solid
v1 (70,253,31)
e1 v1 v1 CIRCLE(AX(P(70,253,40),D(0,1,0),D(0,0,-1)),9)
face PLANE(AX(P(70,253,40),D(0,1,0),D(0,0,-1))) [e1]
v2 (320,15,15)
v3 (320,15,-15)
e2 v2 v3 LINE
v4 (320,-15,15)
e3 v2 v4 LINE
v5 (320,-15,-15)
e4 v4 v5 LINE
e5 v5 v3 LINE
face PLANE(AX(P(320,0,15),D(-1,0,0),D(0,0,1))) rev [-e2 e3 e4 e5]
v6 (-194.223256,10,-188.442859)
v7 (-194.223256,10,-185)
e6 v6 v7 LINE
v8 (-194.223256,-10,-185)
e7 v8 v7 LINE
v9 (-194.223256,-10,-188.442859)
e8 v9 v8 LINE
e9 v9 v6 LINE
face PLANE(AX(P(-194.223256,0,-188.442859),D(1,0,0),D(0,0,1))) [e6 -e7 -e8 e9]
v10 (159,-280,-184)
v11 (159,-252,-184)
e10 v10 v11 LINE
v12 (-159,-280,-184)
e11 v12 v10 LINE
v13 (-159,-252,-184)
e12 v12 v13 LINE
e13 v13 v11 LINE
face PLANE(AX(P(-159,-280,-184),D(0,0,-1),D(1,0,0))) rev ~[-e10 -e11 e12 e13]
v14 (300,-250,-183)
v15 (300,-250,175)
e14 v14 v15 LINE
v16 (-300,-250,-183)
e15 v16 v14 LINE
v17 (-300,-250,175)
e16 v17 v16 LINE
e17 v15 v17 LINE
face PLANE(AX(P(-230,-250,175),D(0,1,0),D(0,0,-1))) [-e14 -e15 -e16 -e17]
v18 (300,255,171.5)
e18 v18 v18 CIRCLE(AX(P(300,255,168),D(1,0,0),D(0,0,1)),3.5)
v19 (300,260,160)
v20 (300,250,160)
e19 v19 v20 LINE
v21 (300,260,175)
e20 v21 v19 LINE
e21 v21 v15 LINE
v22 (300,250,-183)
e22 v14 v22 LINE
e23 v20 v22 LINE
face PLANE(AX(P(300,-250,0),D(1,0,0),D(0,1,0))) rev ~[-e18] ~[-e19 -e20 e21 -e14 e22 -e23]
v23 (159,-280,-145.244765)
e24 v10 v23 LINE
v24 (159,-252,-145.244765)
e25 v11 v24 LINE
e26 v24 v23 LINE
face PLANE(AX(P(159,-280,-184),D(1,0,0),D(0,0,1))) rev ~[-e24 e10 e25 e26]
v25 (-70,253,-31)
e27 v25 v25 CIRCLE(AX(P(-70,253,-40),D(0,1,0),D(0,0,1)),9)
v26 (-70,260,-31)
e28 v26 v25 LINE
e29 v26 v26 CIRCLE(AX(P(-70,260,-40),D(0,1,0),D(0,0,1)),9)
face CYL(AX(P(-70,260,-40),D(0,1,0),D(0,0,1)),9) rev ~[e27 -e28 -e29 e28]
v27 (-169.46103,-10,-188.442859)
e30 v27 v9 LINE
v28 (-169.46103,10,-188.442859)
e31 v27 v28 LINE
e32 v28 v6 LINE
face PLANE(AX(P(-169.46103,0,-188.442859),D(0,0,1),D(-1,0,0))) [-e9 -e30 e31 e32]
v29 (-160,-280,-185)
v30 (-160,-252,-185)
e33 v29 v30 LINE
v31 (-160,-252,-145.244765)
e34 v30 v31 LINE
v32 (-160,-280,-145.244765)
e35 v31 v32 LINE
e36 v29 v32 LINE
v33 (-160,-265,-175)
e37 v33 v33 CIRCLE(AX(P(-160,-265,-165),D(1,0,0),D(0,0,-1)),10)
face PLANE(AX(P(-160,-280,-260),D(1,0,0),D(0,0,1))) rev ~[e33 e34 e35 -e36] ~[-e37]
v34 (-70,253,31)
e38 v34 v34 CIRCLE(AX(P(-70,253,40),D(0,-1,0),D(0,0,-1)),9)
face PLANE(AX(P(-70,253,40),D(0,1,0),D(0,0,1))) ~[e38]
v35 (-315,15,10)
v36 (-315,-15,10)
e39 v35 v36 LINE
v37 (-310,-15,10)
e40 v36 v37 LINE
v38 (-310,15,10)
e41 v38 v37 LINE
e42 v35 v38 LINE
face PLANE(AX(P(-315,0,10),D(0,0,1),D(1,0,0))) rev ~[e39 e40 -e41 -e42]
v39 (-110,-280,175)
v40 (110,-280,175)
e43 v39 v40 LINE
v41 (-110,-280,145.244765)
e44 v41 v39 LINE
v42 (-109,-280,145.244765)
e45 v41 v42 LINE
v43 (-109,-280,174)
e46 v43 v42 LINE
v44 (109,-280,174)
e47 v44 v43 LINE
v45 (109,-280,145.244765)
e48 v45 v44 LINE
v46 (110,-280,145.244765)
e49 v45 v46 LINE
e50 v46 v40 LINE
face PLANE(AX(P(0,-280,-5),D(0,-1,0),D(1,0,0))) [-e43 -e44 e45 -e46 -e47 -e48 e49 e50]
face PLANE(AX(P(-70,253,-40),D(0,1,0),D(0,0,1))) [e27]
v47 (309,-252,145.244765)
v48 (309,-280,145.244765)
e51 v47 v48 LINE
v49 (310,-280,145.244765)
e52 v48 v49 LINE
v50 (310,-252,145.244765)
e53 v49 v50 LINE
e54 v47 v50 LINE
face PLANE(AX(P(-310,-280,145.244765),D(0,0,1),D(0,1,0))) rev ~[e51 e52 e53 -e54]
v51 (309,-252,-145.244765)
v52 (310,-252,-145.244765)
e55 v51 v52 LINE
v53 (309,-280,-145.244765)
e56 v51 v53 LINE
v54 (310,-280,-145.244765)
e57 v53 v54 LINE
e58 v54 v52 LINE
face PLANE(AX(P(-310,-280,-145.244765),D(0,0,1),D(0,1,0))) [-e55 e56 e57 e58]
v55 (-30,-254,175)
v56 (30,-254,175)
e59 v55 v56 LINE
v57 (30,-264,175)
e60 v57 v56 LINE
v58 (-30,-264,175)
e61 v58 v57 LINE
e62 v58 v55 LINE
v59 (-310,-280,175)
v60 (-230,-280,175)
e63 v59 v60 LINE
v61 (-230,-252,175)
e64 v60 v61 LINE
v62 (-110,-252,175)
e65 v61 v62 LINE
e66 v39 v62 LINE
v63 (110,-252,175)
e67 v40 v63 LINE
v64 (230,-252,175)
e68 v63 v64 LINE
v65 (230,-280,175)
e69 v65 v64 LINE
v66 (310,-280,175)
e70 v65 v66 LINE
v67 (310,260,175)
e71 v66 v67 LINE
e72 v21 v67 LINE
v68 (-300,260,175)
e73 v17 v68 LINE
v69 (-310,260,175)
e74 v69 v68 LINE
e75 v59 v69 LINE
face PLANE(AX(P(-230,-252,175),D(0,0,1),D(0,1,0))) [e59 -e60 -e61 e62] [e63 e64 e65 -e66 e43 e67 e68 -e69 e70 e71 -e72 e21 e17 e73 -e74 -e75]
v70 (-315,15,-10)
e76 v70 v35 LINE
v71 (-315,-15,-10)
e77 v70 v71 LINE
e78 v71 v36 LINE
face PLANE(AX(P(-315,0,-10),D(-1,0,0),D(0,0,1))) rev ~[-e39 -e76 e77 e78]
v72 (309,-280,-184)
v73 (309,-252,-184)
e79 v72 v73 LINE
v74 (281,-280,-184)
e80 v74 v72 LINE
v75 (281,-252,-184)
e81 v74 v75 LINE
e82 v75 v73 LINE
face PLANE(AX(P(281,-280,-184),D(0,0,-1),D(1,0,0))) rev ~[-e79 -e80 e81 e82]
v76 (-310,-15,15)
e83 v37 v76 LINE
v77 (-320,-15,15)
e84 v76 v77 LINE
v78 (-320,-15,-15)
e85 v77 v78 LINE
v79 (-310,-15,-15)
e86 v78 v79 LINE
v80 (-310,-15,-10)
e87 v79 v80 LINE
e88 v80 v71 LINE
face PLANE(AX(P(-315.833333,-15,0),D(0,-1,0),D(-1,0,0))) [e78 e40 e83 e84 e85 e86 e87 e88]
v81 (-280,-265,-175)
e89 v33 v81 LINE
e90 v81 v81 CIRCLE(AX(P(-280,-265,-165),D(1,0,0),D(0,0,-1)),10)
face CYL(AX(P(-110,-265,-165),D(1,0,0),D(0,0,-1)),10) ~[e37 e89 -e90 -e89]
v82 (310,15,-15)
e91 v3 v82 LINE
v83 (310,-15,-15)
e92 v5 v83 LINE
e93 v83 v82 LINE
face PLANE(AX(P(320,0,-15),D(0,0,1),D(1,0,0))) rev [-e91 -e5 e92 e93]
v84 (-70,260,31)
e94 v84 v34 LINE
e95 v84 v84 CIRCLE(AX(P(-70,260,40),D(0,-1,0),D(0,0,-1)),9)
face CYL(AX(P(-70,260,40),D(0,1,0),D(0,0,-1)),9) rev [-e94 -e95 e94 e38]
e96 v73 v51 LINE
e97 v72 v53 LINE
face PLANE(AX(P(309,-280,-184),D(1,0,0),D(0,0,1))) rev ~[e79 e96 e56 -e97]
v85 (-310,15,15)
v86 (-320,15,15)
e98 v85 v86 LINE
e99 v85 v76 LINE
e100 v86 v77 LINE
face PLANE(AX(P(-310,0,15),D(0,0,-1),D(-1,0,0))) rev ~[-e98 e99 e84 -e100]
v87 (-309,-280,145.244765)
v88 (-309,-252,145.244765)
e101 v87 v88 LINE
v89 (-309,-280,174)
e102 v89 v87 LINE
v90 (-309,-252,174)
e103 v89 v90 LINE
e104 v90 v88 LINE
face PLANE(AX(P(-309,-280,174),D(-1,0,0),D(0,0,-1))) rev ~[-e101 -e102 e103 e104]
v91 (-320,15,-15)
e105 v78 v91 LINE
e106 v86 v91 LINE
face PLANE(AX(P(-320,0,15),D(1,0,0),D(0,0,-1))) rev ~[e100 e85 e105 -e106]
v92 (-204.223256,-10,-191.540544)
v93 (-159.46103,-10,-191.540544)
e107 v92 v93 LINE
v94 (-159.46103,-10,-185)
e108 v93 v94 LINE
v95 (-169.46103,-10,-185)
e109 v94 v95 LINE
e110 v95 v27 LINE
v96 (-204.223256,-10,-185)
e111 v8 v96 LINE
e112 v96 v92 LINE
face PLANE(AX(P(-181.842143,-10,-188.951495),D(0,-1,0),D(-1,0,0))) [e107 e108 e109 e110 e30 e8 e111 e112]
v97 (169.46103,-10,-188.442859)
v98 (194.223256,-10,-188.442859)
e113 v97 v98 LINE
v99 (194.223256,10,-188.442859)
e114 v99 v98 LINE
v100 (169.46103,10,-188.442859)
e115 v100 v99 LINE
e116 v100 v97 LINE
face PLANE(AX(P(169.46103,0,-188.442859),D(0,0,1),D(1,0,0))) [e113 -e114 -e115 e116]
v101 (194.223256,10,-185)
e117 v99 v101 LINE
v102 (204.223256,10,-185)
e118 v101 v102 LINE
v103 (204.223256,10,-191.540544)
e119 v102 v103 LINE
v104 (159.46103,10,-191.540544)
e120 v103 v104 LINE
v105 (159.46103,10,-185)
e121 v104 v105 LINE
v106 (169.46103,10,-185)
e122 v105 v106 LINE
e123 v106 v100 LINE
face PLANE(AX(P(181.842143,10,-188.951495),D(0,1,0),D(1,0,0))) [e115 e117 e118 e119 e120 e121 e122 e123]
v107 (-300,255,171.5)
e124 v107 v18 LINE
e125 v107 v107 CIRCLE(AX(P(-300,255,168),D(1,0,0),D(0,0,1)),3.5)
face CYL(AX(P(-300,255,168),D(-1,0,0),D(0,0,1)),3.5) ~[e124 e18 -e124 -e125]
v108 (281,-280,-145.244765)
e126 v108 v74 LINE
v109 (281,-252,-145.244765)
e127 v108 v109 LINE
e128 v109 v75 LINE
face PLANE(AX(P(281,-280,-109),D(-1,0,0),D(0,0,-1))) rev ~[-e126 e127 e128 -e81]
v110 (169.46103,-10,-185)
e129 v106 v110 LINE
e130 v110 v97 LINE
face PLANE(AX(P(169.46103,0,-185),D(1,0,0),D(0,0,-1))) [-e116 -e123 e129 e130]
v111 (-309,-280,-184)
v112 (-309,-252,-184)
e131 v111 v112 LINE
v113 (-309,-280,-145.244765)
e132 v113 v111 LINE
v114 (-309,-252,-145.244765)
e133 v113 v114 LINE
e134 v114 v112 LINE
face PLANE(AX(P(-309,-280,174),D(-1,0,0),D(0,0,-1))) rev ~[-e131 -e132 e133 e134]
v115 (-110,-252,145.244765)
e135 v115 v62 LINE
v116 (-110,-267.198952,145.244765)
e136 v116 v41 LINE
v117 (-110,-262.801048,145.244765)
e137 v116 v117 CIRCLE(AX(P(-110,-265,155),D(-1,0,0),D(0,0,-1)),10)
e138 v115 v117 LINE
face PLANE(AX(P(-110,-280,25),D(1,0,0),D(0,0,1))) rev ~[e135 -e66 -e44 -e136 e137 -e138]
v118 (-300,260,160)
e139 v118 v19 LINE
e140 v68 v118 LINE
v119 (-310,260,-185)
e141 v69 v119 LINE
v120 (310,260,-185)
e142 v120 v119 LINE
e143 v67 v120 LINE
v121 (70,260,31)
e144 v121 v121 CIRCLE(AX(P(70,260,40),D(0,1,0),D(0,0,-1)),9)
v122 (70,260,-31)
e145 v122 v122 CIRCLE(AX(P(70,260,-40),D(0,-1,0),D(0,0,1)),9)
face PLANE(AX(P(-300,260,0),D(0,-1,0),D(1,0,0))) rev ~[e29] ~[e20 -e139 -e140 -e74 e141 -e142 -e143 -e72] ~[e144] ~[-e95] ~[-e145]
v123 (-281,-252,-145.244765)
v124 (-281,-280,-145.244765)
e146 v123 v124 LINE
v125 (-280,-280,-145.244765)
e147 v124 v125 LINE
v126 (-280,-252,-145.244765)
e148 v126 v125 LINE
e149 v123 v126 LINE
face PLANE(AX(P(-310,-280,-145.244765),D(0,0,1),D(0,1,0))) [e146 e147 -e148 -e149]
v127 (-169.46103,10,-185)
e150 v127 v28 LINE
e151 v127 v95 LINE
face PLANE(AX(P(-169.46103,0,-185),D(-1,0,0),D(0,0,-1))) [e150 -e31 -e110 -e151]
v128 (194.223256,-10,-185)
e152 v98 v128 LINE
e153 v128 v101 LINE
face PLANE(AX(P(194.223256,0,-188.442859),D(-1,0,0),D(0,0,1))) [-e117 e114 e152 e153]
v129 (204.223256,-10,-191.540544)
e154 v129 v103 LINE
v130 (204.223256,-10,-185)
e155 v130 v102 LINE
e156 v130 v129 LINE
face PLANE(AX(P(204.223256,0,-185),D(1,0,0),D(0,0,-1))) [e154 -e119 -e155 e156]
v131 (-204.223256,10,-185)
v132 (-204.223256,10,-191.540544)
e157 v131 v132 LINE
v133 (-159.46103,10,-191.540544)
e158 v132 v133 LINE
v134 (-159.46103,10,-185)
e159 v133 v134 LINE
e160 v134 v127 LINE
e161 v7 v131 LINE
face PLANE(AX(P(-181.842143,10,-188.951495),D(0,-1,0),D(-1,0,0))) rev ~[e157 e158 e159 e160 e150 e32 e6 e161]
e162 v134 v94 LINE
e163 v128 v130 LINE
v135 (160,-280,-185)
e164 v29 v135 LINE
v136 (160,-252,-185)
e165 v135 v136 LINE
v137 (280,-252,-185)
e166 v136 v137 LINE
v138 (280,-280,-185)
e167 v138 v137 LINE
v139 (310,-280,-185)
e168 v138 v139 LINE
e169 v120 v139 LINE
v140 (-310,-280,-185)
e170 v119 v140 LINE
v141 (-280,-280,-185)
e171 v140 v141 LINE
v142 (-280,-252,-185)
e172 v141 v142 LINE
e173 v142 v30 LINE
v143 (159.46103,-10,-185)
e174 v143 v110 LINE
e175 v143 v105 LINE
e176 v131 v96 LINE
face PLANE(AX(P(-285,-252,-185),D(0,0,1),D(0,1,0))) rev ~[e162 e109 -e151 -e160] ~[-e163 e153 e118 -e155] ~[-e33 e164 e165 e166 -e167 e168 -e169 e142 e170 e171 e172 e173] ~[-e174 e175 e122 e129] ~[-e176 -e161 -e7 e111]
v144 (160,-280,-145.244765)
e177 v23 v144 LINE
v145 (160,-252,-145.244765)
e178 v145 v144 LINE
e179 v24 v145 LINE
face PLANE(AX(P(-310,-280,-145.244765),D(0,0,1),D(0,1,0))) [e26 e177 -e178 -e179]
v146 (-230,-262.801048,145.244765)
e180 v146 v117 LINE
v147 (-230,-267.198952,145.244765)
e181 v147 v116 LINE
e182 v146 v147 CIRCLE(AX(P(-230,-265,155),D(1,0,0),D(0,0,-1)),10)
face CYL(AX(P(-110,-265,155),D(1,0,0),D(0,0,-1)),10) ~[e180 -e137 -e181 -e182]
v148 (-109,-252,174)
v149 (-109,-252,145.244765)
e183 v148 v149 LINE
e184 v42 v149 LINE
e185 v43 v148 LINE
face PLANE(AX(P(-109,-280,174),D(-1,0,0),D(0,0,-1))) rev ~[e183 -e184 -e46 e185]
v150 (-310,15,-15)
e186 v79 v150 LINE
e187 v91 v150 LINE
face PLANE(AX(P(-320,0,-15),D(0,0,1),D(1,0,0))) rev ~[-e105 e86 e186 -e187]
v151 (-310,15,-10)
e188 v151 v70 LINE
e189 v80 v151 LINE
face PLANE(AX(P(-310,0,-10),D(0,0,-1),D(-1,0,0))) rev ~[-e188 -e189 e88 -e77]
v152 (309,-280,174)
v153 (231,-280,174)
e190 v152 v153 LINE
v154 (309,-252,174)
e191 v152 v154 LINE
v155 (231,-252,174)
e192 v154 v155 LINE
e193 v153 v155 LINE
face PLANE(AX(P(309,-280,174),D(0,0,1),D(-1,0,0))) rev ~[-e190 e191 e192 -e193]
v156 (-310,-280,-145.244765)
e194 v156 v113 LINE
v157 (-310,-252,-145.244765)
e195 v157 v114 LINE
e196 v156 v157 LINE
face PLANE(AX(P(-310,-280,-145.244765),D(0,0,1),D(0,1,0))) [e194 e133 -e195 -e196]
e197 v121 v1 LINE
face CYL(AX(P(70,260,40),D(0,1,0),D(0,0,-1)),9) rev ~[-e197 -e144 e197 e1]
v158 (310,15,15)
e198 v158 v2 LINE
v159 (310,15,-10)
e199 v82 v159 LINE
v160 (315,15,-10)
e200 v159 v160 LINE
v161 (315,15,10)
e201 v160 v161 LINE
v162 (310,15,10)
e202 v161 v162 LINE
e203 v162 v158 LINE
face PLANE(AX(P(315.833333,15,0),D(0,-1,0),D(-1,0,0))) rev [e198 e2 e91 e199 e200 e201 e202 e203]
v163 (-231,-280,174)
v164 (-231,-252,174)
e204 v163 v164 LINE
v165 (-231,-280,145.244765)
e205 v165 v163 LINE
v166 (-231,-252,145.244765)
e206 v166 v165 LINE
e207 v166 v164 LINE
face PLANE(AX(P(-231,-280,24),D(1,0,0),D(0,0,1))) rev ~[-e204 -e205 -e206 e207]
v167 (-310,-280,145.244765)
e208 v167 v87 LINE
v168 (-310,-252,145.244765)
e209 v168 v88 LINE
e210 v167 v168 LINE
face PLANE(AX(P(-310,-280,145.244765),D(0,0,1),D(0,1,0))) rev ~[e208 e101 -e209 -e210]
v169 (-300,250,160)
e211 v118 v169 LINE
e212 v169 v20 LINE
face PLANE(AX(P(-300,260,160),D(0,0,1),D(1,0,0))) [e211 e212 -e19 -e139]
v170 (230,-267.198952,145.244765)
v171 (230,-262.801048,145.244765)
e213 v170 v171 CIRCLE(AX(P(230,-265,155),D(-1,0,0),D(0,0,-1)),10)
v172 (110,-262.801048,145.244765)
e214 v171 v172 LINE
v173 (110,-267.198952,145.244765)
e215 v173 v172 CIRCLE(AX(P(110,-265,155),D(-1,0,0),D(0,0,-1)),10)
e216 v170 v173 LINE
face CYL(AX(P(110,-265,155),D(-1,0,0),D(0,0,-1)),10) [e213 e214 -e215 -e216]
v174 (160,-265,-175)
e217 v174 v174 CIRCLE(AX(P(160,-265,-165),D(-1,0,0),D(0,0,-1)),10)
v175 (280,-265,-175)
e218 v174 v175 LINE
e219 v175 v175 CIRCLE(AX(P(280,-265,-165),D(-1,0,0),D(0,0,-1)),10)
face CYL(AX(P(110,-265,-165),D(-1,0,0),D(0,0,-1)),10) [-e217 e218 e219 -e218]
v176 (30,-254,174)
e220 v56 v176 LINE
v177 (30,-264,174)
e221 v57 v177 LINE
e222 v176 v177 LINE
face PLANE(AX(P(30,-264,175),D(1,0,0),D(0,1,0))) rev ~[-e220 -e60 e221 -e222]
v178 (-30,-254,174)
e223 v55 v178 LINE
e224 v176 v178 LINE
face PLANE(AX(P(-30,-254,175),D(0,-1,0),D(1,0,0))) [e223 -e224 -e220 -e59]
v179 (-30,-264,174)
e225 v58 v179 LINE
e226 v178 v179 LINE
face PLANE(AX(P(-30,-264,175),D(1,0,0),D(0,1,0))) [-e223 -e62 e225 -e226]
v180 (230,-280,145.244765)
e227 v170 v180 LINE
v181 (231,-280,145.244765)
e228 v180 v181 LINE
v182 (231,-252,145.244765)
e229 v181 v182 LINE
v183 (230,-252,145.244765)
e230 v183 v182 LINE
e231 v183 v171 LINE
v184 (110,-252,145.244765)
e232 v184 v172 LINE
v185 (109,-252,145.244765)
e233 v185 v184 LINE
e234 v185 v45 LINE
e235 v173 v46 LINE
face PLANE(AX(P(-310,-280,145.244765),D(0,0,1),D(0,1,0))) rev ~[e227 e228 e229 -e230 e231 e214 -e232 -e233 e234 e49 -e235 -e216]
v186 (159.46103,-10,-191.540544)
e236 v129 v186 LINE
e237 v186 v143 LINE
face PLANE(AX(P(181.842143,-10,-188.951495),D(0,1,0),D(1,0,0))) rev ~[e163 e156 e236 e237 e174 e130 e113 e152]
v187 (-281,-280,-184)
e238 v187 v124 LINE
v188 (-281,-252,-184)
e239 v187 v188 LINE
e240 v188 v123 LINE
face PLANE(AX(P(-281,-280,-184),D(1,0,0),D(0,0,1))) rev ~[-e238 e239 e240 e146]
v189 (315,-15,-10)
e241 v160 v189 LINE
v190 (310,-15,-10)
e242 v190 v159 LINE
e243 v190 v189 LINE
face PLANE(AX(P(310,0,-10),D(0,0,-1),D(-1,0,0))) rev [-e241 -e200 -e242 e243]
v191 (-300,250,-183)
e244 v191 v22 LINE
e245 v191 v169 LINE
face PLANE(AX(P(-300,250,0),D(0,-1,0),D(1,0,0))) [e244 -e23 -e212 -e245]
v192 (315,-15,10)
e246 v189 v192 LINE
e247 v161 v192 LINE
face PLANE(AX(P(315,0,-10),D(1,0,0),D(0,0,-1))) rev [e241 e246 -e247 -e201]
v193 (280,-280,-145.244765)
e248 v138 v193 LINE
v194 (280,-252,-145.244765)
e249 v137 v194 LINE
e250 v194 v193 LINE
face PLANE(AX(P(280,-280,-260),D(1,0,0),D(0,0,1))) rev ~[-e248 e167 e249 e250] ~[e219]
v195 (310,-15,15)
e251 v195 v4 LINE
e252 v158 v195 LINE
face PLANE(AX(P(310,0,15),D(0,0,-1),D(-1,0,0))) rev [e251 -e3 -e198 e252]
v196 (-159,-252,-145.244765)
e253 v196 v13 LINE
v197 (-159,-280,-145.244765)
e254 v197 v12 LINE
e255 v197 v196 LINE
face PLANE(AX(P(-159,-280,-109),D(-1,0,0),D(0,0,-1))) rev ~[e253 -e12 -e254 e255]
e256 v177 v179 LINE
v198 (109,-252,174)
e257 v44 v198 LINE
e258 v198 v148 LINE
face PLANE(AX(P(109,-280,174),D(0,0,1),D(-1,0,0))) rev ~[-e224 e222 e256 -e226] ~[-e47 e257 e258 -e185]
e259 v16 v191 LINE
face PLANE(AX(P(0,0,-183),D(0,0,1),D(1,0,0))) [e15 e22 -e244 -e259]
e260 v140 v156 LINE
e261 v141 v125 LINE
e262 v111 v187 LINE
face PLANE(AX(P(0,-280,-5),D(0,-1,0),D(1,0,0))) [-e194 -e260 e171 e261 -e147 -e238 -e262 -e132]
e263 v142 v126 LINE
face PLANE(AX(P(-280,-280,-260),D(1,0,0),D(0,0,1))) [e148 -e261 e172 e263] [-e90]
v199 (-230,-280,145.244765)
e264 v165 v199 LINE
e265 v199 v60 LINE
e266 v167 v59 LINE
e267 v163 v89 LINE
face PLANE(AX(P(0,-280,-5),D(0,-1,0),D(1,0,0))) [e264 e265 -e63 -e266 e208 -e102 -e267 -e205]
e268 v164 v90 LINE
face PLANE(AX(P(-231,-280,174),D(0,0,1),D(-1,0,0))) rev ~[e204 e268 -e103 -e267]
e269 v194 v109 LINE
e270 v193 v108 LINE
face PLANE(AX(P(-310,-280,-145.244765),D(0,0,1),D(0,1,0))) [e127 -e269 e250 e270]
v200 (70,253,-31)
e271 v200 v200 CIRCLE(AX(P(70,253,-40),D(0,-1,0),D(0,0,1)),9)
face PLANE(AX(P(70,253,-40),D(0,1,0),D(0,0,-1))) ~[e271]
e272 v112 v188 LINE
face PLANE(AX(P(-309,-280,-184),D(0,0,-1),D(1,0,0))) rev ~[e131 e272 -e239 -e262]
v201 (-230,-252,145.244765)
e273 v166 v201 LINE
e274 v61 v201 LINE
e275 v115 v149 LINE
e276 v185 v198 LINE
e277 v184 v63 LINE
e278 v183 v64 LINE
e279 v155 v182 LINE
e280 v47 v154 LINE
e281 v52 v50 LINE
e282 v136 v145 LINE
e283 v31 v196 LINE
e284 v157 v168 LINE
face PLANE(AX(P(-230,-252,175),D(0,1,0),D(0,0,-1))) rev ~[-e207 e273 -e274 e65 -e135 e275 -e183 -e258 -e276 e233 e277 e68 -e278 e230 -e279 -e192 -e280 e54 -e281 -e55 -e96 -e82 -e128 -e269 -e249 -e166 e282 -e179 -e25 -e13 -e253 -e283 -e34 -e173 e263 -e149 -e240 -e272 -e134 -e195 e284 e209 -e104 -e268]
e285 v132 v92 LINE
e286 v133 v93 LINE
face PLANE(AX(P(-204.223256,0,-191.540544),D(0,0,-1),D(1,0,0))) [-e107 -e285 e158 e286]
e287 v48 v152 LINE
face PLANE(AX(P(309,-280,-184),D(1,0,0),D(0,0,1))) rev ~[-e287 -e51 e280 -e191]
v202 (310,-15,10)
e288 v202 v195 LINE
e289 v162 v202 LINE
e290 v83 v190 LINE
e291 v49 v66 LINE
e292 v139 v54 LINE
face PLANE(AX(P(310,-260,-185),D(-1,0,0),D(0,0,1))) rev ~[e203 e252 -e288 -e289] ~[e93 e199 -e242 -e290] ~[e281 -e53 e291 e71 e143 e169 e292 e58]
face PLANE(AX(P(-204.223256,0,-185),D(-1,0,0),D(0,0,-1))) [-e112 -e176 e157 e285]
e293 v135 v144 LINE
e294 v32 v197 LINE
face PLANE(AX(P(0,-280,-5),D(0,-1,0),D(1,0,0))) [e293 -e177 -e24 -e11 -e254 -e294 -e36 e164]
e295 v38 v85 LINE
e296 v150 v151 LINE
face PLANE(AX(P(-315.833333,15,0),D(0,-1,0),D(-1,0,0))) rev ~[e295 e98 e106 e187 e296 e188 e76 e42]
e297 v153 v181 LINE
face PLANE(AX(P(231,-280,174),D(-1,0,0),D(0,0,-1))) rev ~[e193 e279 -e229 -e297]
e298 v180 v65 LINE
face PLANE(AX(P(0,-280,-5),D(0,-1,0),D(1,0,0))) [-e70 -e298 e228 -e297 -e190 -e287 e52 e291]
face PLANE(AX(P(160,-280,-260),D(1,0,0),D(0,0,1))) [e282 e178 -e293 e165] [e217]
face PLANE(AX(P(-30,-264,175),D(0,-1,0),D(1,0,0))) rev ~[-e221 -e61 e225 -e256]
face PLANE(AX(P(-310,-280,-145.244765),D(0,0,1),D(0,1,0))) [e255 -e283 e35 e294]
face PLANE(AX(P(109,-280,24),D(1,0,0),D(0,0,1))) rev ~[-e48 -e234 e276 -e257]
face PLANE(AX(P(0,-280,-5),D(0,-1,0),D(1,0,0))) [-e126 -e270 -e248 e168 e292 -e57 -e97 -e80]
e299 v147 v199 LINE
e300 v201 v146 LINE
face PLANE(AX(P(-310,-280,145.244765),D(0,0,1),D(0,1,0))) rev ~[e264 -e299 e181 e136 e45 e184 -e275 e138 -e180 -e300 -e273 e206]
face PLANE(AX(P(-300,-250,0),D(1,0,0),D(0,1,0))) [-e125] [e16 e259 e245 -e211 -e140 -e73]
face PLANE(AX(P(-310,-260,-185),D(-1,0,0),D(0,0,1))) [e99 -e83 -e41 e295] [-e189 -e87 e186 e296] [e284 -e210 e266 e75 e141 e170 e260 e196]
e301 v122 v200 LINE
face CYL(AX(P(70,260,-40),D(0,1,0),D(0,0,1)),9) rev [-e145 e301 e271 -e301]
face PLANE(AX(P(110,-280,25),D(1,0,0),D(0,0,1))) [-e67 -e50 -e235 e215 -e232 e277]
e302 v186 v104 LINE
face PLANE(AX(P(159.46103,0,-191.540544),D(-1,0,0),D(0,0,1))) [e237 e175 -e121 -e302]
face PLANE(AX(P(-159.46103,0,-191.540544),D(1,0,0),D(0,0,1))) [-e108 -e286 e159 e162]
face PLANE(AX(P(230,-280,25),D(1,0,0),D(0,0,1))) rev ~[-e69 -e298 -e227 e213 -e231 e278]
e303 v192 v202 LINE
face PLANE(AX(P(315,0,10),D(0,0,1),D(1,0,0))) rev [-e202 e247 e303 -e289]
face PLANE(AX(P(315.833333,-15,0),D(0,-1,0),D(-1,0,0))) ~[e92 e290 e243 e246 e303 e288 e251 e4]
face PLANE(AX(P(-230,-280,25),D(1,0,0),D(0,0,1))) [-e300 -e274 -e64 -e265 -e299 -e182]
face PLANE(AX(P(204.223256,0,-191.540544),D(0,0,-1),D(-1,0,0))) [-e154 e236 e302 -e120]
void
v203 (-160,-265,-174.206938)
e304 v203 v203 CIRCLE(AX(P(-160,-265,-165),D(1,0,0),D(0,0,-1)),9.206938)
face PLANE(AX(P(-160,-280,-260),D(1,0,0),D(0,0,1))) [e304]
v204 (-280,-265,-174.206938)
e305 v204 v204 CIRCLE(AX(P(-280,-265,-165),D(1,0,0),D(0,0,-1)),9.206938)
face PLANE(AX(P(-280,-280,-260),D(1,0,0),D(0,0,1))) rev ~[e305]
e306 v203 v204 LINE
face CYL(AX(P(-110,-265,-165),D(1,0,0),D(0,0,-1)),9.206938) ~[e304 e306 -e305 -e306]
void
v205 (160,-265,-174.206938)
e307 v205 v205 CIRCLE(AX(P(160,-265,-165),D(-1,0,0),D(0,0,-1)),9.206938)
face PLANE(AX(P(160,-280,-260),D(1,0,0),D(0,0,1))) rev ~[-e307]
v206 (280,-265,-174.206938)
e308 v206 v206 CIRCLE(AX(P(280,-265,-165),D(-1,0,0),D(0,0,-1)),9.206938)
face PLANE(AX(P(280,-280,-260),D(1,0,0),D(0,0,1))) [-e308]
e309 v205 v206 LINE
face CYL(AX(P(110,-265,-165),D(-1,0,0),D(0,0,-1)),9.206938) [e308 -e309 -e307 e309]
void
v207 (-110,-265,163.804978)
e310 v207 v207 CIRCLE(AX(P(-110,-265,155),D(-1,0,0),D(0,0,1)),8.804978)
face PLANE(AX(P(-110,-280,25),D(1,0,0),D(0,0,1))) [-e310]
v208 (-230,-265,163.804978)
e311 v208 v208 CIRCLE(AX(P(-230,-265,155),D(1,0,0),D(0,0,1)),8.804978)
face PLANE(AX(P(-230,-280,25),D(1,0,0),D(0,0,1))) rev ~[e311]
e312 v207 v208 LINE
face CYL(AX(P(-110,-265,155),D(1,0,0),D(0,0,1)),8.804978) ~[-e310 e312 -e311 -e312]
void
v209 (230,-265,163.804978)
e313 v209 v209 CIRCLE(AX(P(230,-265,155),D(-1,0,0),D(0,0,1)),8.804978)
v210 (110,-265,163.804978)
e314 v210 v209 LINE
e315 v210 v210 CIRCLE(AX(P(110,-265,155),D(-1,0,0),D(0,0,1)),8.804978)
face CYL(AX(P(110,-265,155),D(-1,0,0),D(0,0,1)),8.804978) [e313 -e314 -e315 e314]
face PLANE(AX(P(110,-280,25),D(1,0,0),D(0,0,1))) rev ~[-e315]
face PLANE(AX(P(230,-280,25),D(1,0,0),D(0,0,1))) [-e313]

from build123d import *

# Parameters (mm, degrees)
SKETCH1_W                                  = 600
SKETCH1_H                                  = 500
BOSS_EXTRUDE1_DEPTH                        = 175
SHELL1_T                                   = 10
SKETCH3_W                                  = 620
SKETCH3_H                                  = 360
BOSS_EXTRUDE2_DEPTH                        = 20
SKETCH5_W                                  = 120
SKETCH5_H                                  = 150
CUT_EXTRUDE1_DEPTH                         = 50
BOSS_EXTRUDE3_DEPTH                        = 15
SKETCH9_R                                  = 10
SKETCH9_R_2                                = 8.804977656
SKETCH9_R_3                                = 9.206937975
BOSS_EXTRUDE4_DEPTH                        = 180
BOSS_EXTRUDE8_START                        = -260
BOSS_EXTRUDE8_DEPTH                        = 10
SKETCH147_W                                = 600
SKETCH147_H                                = 15
CUT_EXTRUDE2_DEPTH                         = 10
SKETCH148_R                                = 3.5
BOSS_EXTRUDE10_DEPTH                       = 600
SKETCH149_R                                = 9
CUT_EXTRUDE3_DEPTH                         = 7
MIRROR3_AT_THE_SECOND_PLANE_COPY_1_SKETC_R = 9
MIRROR3_AT_THE_SECOND_PLANE_COPY_1_DEPTH   = 7
SKETCH150_W                                = 60
SKETCH150_H                                = 10
CUT_EXTRUDE4_DEPTH                         = 30
CUT_EXTRUDE10_DEPTH                        = 28
SKETCH155_W                                = 290.489530142
SKETCH155_H                                = 28
CUT_EXTRUDE11_DEPTH                        = 716.53321378
BOSS_EXTRUDE11_DEPTH                       = 488
BOSS_EXTRUDE12_DEPTH                       = 125
BOSS_EXTRUDE12_DEPTH_BACK                  = 445
SKETCH160_W                                = 600
SKETCH160_H                                = 500
CUT_EXTRUDE12_DEPTH                        = 8


with BuildPart() as part:
    # Sketch1 → Boss-Extrude1 (new, symmetric)
    with BuildSketch(Plane.XY):
        Rectangle(SKETCH1_W, SKETCH1_H)
    extrude(amount=BOSS_EXTRUDE1_DEPTH, both=True)

    # Shell1
    shell1_openings = [part.faces().sort_by_distance(p)[0] for p in [
        (0, 0, 175),
    ]]
    offset(amount=SHELL1_T, openings=shell1_openings, kind=Kind.INTERSECTION)

    # Sketch3 → Boss-Extrude2 (add)
    with BuildSketch(Plane.XZ.offset(260)):
        with Locations((0, -5)):
            Rectangle(SKETCH3_W, SKETCH3_H)
    extrude(amount=BOSS_EXTRUDE2_DEPTH)

    # Sketch5 → Cut-Extrude1 (cut)
    with BuildSketch(Plane.XZ.offset(280)):
        with Locations((-170, 100)):
            Rectangle(SKETCH5_W, SKETCH5_H)
        with Locations((170, 100)):
            Rectangle(SKETCH5_W, SKETCH5_H)
        with Locations((-220, -185)):
            Rectangle(SKETCH5_W, SKETCH5_H)
        with Locations((220, -185)):
            Rectangle(SKETCH5_W, SKETCH5_H)
    extrude(amount=-CUT_EXTRUDE1_DEPTH, mode=Mode.SUBTRACT)

    # Sketch8 → Boss-Extrude3 (add, symmetric)
    with BuildSketch(Plane(origin=(0, 0, 0), x_dir=(1, 0, 0), z_dir=(0, 1, 0))):
        Polygon((-310, 10), (-315, 10), (-315, -10), (-310, -10), (-310, -15), (-320, -15), (-320, 15), (-310, 15), align=None)
    boss_extrude3 = extrude(amount=BOSS_EXTRUDE3_DEPTH, both=True)

    # Sketch9 → Boss-Extrude4 (add)
    # profile 1 of 2: a face of its own
    with BuildSketch(Plane.ZY.offset(110)):
        with Locations(Location((155, -265, 0), (0, 0, 180))):
            Circle(SKETCH9_R)
        with Locations((155, -265)):
            Circle(SKETCH9_R_2, mode=Mode.SUBTRACT)
    # profile 2 of 2: a face of its own
    with BuildSketch(Plane.ZY.offset(110)):
        with Locations(Location((-165, -265, 0), (0, 0, 180))):
            Circle(SKETCH9_R)
        with Locations(Location((-165, -265, 0), (0, 0, 180))):
            Circle(SKETCH9_R_3, mode=Mode.SUBTRACT)
    boss_extrude4 = extrude(amount=BOSS_EXTRUDE4_DEPTH)

    # Mirror1: Boss-Extrude3, Boss-Extrude4 across plane
    add(boss_extrude3.mirror(Plane(origin=(0, 0, 0), x_dir=(0, 0, 1), z_dir=(1, 0, 0))))
    add(boss_extrude4.mirror(Plane(origin=(0, 0, 0), x_dir=(0, 0, 1), z_dir=(1, 0, 0))))

    # Sketch17 → Boss-Extrude8 (add, symmetric)
    with BuildSketch(Plane(origin=(0, 260, 0), x_dir=(1, 0, 0), z_dir=(0, 1, 0)).offset(BOSS_EXTRUDE8_START)):
        Polygon((-194.223256177, 185), (-204.223256177, 185), (-204.223256177, 191.540544069), (-159.461030104, 191.540544069), (-159.461030104, 185), (-169.461030104, 185), (-169.461030104, 188.442858537), (-194.223256177, 188.442858537), align=None)
        Polygon((194.223256177, 188.442858537), (194.223256177, 185), (204.223256177, 185), (204.223256177, 191.540544069), (159.461030104, 191.540544069), (159.461030104, 185), (169.461030104, 185), (169.461030104, 188.442858537), align=None)
    extrude(amount=BOSS_EXTRUDE8_DEPTH, both=True)

    # Sketch147 → Cut-Extrude2 (cut)
    with BuildSketch(Plane(origin=(0, 260, 0), x_dir=(1, 0, 0), z_dir=(0, 1, 0))):
        with Locations((0, -167.5)):
            Rectangle(SKETCH147_W, SKETCH147_H)
    extrude(amount=-CUT_EXTRUDE2_DEPTH, mode=Mode.SUBTRACT)

    # Sketch148 → Boss-Extrude10 (add)
    with BuildSketch(Plane(origin=(-300, 0, 0), x_dir=(0, 0, -1), z_dir=(1, 0, 0))):
        with Locations(Location((-168, 255, 0), (0, 0, 180))):
            Circle(SKETCH148_R)
    extrude(amount=BOSS_EXTRUDE10_DEPTH)

    # Sketch149 → Cut-Extrude3 (cut)
    with BuildSketch(Plane(origin=(0, 260, 0), x_dir=(1, 0, 0), z_dir=(0, 1, 0))):
        with Locations(Location((-70, 40, 0), (0, 0, 270))):
            Circle(SKETCH149_R)
    cut_extrude3 = extrude(amount=-CUT_EXTRUDE3_DEPTH, mode=Mode.SUBTRACT)

    # Mirror3: Cut-Extrude3 across plane
    add(cut_extrude3.mirror(Plane.XY), mode=Mode.SUBTRACT)

    # Mirror3 at the second plane: Cut-Extrude3 across plane
    add(cut_extrude3.mirror(Plane(origin=(0, 0, 0), x_dir=(0, 0, 1), z_dir=(1, 0, 0))), mode=Mode.SUBTRACT)

    # Mirror3 at the second plane copy 1 sketc → Mirror3 at the second plane copy 1 (cut)
    with BuildSketch(Plane(origin=(0, 260, 0), x_dir=(-1, 0, 0), z_dir=(0, 1, 0))):
        with Locations(Location((-70, 40, 0), (0, 0, 270))):
            Circle(MIRROR3_AT_THE_SECOND_PLANE_COPY_1_SKETC_R)
    extrude(amount=-MIRROR3_AT_THE_SECOND_PLANE_COPY_1_DEPTH, mode=Mode.SUBTRACT)

    # Sketch150 → Cut-Extrude4 (cut)
    with BuildSketch(Plane.XY.offset(175)):
        with Locations((0, -259)):
            Rectangle(SKETCH150_W, SKETCH150_H)
    extrude(amount=-CUT_EXTRUDE4_DEPTH, mode=Mode.SUBTRACT)

    # Sketch154 → Cut-Extrude10 (cut)
    with BuildSketch(Plane.XZ.offset(280)):
        Polygon((309, -184), (309, 174), (231, 174), (231, 24), (109, 24), (109, 174), (-109, 174), (-109, 24), (-231, 24), (-231, 174), (-309, 174), (-309, -184), (-281, -184), (-281, -109), (-159, -109), (-159, -184), (159, -184), (159, -109), (281, -109), (281, -184), align=None)
    extrude(amount=-CUT_EXTRUDE10_DEPTH, mode=Mode.SUBTRACT)

    # Sketch155 → Cut-Extrude11 (cut, through all)
    with BuildSketch(Plane.ZY.offset(310)):
        with Locations((0, -266)):
            Rectangle(SKETCH155_W, SKETCH155_H)
    extrude(amount=-CUT_EXTRUDE11_DEPTH, mode=Mode.SUBTRACT)

    # Sketch157 → Boss-Extrude11 (add)
    with BuildSketch(Plane(origin=(-230, 0, 0), x_dir=(0, 0, -1), z_dir=(1, 0, 0))):
        Polygon((-145.244765071, -252), (-175, -252), (-175, -250), (-25, -250), (-25, -252), align=None)
    extrude(amount=BOSS_EXTRUDE11_DEPTH)

    # Sketch159 → Boss-Extrude12 (add, two sides: drawn at the far end of the back side and taken through both)
    with BuildSketch(Plane(origin=(160, 0, 0), x_dir=(0, 0, -1), z_dir=(1, 0, 0)).offset(-BOSS_EXTRUDE12_DEPTH_BACK)):
        Polygon((145.244765071, -252), (185, -252), (185, -230), (175, -230), (175, -250), (110, -250), (110, -252), align=None)
    extrude(amount=BOSS_EXTRUDE12_DEPTH + BOSS_EXTRUDE12_DEPTH_BACK)

    # Sketch160 → Cut-Extrude12 (cut)
    with BuildSketch(Plane.XY.offset(-175)):
        Rectangle(SKETCH160_W, SKETCH160_H)
    extrude(amount=-CUT_EXTRUDE12_DEPTH, mode=Mode.SUBTRACT)


solid = part.part
